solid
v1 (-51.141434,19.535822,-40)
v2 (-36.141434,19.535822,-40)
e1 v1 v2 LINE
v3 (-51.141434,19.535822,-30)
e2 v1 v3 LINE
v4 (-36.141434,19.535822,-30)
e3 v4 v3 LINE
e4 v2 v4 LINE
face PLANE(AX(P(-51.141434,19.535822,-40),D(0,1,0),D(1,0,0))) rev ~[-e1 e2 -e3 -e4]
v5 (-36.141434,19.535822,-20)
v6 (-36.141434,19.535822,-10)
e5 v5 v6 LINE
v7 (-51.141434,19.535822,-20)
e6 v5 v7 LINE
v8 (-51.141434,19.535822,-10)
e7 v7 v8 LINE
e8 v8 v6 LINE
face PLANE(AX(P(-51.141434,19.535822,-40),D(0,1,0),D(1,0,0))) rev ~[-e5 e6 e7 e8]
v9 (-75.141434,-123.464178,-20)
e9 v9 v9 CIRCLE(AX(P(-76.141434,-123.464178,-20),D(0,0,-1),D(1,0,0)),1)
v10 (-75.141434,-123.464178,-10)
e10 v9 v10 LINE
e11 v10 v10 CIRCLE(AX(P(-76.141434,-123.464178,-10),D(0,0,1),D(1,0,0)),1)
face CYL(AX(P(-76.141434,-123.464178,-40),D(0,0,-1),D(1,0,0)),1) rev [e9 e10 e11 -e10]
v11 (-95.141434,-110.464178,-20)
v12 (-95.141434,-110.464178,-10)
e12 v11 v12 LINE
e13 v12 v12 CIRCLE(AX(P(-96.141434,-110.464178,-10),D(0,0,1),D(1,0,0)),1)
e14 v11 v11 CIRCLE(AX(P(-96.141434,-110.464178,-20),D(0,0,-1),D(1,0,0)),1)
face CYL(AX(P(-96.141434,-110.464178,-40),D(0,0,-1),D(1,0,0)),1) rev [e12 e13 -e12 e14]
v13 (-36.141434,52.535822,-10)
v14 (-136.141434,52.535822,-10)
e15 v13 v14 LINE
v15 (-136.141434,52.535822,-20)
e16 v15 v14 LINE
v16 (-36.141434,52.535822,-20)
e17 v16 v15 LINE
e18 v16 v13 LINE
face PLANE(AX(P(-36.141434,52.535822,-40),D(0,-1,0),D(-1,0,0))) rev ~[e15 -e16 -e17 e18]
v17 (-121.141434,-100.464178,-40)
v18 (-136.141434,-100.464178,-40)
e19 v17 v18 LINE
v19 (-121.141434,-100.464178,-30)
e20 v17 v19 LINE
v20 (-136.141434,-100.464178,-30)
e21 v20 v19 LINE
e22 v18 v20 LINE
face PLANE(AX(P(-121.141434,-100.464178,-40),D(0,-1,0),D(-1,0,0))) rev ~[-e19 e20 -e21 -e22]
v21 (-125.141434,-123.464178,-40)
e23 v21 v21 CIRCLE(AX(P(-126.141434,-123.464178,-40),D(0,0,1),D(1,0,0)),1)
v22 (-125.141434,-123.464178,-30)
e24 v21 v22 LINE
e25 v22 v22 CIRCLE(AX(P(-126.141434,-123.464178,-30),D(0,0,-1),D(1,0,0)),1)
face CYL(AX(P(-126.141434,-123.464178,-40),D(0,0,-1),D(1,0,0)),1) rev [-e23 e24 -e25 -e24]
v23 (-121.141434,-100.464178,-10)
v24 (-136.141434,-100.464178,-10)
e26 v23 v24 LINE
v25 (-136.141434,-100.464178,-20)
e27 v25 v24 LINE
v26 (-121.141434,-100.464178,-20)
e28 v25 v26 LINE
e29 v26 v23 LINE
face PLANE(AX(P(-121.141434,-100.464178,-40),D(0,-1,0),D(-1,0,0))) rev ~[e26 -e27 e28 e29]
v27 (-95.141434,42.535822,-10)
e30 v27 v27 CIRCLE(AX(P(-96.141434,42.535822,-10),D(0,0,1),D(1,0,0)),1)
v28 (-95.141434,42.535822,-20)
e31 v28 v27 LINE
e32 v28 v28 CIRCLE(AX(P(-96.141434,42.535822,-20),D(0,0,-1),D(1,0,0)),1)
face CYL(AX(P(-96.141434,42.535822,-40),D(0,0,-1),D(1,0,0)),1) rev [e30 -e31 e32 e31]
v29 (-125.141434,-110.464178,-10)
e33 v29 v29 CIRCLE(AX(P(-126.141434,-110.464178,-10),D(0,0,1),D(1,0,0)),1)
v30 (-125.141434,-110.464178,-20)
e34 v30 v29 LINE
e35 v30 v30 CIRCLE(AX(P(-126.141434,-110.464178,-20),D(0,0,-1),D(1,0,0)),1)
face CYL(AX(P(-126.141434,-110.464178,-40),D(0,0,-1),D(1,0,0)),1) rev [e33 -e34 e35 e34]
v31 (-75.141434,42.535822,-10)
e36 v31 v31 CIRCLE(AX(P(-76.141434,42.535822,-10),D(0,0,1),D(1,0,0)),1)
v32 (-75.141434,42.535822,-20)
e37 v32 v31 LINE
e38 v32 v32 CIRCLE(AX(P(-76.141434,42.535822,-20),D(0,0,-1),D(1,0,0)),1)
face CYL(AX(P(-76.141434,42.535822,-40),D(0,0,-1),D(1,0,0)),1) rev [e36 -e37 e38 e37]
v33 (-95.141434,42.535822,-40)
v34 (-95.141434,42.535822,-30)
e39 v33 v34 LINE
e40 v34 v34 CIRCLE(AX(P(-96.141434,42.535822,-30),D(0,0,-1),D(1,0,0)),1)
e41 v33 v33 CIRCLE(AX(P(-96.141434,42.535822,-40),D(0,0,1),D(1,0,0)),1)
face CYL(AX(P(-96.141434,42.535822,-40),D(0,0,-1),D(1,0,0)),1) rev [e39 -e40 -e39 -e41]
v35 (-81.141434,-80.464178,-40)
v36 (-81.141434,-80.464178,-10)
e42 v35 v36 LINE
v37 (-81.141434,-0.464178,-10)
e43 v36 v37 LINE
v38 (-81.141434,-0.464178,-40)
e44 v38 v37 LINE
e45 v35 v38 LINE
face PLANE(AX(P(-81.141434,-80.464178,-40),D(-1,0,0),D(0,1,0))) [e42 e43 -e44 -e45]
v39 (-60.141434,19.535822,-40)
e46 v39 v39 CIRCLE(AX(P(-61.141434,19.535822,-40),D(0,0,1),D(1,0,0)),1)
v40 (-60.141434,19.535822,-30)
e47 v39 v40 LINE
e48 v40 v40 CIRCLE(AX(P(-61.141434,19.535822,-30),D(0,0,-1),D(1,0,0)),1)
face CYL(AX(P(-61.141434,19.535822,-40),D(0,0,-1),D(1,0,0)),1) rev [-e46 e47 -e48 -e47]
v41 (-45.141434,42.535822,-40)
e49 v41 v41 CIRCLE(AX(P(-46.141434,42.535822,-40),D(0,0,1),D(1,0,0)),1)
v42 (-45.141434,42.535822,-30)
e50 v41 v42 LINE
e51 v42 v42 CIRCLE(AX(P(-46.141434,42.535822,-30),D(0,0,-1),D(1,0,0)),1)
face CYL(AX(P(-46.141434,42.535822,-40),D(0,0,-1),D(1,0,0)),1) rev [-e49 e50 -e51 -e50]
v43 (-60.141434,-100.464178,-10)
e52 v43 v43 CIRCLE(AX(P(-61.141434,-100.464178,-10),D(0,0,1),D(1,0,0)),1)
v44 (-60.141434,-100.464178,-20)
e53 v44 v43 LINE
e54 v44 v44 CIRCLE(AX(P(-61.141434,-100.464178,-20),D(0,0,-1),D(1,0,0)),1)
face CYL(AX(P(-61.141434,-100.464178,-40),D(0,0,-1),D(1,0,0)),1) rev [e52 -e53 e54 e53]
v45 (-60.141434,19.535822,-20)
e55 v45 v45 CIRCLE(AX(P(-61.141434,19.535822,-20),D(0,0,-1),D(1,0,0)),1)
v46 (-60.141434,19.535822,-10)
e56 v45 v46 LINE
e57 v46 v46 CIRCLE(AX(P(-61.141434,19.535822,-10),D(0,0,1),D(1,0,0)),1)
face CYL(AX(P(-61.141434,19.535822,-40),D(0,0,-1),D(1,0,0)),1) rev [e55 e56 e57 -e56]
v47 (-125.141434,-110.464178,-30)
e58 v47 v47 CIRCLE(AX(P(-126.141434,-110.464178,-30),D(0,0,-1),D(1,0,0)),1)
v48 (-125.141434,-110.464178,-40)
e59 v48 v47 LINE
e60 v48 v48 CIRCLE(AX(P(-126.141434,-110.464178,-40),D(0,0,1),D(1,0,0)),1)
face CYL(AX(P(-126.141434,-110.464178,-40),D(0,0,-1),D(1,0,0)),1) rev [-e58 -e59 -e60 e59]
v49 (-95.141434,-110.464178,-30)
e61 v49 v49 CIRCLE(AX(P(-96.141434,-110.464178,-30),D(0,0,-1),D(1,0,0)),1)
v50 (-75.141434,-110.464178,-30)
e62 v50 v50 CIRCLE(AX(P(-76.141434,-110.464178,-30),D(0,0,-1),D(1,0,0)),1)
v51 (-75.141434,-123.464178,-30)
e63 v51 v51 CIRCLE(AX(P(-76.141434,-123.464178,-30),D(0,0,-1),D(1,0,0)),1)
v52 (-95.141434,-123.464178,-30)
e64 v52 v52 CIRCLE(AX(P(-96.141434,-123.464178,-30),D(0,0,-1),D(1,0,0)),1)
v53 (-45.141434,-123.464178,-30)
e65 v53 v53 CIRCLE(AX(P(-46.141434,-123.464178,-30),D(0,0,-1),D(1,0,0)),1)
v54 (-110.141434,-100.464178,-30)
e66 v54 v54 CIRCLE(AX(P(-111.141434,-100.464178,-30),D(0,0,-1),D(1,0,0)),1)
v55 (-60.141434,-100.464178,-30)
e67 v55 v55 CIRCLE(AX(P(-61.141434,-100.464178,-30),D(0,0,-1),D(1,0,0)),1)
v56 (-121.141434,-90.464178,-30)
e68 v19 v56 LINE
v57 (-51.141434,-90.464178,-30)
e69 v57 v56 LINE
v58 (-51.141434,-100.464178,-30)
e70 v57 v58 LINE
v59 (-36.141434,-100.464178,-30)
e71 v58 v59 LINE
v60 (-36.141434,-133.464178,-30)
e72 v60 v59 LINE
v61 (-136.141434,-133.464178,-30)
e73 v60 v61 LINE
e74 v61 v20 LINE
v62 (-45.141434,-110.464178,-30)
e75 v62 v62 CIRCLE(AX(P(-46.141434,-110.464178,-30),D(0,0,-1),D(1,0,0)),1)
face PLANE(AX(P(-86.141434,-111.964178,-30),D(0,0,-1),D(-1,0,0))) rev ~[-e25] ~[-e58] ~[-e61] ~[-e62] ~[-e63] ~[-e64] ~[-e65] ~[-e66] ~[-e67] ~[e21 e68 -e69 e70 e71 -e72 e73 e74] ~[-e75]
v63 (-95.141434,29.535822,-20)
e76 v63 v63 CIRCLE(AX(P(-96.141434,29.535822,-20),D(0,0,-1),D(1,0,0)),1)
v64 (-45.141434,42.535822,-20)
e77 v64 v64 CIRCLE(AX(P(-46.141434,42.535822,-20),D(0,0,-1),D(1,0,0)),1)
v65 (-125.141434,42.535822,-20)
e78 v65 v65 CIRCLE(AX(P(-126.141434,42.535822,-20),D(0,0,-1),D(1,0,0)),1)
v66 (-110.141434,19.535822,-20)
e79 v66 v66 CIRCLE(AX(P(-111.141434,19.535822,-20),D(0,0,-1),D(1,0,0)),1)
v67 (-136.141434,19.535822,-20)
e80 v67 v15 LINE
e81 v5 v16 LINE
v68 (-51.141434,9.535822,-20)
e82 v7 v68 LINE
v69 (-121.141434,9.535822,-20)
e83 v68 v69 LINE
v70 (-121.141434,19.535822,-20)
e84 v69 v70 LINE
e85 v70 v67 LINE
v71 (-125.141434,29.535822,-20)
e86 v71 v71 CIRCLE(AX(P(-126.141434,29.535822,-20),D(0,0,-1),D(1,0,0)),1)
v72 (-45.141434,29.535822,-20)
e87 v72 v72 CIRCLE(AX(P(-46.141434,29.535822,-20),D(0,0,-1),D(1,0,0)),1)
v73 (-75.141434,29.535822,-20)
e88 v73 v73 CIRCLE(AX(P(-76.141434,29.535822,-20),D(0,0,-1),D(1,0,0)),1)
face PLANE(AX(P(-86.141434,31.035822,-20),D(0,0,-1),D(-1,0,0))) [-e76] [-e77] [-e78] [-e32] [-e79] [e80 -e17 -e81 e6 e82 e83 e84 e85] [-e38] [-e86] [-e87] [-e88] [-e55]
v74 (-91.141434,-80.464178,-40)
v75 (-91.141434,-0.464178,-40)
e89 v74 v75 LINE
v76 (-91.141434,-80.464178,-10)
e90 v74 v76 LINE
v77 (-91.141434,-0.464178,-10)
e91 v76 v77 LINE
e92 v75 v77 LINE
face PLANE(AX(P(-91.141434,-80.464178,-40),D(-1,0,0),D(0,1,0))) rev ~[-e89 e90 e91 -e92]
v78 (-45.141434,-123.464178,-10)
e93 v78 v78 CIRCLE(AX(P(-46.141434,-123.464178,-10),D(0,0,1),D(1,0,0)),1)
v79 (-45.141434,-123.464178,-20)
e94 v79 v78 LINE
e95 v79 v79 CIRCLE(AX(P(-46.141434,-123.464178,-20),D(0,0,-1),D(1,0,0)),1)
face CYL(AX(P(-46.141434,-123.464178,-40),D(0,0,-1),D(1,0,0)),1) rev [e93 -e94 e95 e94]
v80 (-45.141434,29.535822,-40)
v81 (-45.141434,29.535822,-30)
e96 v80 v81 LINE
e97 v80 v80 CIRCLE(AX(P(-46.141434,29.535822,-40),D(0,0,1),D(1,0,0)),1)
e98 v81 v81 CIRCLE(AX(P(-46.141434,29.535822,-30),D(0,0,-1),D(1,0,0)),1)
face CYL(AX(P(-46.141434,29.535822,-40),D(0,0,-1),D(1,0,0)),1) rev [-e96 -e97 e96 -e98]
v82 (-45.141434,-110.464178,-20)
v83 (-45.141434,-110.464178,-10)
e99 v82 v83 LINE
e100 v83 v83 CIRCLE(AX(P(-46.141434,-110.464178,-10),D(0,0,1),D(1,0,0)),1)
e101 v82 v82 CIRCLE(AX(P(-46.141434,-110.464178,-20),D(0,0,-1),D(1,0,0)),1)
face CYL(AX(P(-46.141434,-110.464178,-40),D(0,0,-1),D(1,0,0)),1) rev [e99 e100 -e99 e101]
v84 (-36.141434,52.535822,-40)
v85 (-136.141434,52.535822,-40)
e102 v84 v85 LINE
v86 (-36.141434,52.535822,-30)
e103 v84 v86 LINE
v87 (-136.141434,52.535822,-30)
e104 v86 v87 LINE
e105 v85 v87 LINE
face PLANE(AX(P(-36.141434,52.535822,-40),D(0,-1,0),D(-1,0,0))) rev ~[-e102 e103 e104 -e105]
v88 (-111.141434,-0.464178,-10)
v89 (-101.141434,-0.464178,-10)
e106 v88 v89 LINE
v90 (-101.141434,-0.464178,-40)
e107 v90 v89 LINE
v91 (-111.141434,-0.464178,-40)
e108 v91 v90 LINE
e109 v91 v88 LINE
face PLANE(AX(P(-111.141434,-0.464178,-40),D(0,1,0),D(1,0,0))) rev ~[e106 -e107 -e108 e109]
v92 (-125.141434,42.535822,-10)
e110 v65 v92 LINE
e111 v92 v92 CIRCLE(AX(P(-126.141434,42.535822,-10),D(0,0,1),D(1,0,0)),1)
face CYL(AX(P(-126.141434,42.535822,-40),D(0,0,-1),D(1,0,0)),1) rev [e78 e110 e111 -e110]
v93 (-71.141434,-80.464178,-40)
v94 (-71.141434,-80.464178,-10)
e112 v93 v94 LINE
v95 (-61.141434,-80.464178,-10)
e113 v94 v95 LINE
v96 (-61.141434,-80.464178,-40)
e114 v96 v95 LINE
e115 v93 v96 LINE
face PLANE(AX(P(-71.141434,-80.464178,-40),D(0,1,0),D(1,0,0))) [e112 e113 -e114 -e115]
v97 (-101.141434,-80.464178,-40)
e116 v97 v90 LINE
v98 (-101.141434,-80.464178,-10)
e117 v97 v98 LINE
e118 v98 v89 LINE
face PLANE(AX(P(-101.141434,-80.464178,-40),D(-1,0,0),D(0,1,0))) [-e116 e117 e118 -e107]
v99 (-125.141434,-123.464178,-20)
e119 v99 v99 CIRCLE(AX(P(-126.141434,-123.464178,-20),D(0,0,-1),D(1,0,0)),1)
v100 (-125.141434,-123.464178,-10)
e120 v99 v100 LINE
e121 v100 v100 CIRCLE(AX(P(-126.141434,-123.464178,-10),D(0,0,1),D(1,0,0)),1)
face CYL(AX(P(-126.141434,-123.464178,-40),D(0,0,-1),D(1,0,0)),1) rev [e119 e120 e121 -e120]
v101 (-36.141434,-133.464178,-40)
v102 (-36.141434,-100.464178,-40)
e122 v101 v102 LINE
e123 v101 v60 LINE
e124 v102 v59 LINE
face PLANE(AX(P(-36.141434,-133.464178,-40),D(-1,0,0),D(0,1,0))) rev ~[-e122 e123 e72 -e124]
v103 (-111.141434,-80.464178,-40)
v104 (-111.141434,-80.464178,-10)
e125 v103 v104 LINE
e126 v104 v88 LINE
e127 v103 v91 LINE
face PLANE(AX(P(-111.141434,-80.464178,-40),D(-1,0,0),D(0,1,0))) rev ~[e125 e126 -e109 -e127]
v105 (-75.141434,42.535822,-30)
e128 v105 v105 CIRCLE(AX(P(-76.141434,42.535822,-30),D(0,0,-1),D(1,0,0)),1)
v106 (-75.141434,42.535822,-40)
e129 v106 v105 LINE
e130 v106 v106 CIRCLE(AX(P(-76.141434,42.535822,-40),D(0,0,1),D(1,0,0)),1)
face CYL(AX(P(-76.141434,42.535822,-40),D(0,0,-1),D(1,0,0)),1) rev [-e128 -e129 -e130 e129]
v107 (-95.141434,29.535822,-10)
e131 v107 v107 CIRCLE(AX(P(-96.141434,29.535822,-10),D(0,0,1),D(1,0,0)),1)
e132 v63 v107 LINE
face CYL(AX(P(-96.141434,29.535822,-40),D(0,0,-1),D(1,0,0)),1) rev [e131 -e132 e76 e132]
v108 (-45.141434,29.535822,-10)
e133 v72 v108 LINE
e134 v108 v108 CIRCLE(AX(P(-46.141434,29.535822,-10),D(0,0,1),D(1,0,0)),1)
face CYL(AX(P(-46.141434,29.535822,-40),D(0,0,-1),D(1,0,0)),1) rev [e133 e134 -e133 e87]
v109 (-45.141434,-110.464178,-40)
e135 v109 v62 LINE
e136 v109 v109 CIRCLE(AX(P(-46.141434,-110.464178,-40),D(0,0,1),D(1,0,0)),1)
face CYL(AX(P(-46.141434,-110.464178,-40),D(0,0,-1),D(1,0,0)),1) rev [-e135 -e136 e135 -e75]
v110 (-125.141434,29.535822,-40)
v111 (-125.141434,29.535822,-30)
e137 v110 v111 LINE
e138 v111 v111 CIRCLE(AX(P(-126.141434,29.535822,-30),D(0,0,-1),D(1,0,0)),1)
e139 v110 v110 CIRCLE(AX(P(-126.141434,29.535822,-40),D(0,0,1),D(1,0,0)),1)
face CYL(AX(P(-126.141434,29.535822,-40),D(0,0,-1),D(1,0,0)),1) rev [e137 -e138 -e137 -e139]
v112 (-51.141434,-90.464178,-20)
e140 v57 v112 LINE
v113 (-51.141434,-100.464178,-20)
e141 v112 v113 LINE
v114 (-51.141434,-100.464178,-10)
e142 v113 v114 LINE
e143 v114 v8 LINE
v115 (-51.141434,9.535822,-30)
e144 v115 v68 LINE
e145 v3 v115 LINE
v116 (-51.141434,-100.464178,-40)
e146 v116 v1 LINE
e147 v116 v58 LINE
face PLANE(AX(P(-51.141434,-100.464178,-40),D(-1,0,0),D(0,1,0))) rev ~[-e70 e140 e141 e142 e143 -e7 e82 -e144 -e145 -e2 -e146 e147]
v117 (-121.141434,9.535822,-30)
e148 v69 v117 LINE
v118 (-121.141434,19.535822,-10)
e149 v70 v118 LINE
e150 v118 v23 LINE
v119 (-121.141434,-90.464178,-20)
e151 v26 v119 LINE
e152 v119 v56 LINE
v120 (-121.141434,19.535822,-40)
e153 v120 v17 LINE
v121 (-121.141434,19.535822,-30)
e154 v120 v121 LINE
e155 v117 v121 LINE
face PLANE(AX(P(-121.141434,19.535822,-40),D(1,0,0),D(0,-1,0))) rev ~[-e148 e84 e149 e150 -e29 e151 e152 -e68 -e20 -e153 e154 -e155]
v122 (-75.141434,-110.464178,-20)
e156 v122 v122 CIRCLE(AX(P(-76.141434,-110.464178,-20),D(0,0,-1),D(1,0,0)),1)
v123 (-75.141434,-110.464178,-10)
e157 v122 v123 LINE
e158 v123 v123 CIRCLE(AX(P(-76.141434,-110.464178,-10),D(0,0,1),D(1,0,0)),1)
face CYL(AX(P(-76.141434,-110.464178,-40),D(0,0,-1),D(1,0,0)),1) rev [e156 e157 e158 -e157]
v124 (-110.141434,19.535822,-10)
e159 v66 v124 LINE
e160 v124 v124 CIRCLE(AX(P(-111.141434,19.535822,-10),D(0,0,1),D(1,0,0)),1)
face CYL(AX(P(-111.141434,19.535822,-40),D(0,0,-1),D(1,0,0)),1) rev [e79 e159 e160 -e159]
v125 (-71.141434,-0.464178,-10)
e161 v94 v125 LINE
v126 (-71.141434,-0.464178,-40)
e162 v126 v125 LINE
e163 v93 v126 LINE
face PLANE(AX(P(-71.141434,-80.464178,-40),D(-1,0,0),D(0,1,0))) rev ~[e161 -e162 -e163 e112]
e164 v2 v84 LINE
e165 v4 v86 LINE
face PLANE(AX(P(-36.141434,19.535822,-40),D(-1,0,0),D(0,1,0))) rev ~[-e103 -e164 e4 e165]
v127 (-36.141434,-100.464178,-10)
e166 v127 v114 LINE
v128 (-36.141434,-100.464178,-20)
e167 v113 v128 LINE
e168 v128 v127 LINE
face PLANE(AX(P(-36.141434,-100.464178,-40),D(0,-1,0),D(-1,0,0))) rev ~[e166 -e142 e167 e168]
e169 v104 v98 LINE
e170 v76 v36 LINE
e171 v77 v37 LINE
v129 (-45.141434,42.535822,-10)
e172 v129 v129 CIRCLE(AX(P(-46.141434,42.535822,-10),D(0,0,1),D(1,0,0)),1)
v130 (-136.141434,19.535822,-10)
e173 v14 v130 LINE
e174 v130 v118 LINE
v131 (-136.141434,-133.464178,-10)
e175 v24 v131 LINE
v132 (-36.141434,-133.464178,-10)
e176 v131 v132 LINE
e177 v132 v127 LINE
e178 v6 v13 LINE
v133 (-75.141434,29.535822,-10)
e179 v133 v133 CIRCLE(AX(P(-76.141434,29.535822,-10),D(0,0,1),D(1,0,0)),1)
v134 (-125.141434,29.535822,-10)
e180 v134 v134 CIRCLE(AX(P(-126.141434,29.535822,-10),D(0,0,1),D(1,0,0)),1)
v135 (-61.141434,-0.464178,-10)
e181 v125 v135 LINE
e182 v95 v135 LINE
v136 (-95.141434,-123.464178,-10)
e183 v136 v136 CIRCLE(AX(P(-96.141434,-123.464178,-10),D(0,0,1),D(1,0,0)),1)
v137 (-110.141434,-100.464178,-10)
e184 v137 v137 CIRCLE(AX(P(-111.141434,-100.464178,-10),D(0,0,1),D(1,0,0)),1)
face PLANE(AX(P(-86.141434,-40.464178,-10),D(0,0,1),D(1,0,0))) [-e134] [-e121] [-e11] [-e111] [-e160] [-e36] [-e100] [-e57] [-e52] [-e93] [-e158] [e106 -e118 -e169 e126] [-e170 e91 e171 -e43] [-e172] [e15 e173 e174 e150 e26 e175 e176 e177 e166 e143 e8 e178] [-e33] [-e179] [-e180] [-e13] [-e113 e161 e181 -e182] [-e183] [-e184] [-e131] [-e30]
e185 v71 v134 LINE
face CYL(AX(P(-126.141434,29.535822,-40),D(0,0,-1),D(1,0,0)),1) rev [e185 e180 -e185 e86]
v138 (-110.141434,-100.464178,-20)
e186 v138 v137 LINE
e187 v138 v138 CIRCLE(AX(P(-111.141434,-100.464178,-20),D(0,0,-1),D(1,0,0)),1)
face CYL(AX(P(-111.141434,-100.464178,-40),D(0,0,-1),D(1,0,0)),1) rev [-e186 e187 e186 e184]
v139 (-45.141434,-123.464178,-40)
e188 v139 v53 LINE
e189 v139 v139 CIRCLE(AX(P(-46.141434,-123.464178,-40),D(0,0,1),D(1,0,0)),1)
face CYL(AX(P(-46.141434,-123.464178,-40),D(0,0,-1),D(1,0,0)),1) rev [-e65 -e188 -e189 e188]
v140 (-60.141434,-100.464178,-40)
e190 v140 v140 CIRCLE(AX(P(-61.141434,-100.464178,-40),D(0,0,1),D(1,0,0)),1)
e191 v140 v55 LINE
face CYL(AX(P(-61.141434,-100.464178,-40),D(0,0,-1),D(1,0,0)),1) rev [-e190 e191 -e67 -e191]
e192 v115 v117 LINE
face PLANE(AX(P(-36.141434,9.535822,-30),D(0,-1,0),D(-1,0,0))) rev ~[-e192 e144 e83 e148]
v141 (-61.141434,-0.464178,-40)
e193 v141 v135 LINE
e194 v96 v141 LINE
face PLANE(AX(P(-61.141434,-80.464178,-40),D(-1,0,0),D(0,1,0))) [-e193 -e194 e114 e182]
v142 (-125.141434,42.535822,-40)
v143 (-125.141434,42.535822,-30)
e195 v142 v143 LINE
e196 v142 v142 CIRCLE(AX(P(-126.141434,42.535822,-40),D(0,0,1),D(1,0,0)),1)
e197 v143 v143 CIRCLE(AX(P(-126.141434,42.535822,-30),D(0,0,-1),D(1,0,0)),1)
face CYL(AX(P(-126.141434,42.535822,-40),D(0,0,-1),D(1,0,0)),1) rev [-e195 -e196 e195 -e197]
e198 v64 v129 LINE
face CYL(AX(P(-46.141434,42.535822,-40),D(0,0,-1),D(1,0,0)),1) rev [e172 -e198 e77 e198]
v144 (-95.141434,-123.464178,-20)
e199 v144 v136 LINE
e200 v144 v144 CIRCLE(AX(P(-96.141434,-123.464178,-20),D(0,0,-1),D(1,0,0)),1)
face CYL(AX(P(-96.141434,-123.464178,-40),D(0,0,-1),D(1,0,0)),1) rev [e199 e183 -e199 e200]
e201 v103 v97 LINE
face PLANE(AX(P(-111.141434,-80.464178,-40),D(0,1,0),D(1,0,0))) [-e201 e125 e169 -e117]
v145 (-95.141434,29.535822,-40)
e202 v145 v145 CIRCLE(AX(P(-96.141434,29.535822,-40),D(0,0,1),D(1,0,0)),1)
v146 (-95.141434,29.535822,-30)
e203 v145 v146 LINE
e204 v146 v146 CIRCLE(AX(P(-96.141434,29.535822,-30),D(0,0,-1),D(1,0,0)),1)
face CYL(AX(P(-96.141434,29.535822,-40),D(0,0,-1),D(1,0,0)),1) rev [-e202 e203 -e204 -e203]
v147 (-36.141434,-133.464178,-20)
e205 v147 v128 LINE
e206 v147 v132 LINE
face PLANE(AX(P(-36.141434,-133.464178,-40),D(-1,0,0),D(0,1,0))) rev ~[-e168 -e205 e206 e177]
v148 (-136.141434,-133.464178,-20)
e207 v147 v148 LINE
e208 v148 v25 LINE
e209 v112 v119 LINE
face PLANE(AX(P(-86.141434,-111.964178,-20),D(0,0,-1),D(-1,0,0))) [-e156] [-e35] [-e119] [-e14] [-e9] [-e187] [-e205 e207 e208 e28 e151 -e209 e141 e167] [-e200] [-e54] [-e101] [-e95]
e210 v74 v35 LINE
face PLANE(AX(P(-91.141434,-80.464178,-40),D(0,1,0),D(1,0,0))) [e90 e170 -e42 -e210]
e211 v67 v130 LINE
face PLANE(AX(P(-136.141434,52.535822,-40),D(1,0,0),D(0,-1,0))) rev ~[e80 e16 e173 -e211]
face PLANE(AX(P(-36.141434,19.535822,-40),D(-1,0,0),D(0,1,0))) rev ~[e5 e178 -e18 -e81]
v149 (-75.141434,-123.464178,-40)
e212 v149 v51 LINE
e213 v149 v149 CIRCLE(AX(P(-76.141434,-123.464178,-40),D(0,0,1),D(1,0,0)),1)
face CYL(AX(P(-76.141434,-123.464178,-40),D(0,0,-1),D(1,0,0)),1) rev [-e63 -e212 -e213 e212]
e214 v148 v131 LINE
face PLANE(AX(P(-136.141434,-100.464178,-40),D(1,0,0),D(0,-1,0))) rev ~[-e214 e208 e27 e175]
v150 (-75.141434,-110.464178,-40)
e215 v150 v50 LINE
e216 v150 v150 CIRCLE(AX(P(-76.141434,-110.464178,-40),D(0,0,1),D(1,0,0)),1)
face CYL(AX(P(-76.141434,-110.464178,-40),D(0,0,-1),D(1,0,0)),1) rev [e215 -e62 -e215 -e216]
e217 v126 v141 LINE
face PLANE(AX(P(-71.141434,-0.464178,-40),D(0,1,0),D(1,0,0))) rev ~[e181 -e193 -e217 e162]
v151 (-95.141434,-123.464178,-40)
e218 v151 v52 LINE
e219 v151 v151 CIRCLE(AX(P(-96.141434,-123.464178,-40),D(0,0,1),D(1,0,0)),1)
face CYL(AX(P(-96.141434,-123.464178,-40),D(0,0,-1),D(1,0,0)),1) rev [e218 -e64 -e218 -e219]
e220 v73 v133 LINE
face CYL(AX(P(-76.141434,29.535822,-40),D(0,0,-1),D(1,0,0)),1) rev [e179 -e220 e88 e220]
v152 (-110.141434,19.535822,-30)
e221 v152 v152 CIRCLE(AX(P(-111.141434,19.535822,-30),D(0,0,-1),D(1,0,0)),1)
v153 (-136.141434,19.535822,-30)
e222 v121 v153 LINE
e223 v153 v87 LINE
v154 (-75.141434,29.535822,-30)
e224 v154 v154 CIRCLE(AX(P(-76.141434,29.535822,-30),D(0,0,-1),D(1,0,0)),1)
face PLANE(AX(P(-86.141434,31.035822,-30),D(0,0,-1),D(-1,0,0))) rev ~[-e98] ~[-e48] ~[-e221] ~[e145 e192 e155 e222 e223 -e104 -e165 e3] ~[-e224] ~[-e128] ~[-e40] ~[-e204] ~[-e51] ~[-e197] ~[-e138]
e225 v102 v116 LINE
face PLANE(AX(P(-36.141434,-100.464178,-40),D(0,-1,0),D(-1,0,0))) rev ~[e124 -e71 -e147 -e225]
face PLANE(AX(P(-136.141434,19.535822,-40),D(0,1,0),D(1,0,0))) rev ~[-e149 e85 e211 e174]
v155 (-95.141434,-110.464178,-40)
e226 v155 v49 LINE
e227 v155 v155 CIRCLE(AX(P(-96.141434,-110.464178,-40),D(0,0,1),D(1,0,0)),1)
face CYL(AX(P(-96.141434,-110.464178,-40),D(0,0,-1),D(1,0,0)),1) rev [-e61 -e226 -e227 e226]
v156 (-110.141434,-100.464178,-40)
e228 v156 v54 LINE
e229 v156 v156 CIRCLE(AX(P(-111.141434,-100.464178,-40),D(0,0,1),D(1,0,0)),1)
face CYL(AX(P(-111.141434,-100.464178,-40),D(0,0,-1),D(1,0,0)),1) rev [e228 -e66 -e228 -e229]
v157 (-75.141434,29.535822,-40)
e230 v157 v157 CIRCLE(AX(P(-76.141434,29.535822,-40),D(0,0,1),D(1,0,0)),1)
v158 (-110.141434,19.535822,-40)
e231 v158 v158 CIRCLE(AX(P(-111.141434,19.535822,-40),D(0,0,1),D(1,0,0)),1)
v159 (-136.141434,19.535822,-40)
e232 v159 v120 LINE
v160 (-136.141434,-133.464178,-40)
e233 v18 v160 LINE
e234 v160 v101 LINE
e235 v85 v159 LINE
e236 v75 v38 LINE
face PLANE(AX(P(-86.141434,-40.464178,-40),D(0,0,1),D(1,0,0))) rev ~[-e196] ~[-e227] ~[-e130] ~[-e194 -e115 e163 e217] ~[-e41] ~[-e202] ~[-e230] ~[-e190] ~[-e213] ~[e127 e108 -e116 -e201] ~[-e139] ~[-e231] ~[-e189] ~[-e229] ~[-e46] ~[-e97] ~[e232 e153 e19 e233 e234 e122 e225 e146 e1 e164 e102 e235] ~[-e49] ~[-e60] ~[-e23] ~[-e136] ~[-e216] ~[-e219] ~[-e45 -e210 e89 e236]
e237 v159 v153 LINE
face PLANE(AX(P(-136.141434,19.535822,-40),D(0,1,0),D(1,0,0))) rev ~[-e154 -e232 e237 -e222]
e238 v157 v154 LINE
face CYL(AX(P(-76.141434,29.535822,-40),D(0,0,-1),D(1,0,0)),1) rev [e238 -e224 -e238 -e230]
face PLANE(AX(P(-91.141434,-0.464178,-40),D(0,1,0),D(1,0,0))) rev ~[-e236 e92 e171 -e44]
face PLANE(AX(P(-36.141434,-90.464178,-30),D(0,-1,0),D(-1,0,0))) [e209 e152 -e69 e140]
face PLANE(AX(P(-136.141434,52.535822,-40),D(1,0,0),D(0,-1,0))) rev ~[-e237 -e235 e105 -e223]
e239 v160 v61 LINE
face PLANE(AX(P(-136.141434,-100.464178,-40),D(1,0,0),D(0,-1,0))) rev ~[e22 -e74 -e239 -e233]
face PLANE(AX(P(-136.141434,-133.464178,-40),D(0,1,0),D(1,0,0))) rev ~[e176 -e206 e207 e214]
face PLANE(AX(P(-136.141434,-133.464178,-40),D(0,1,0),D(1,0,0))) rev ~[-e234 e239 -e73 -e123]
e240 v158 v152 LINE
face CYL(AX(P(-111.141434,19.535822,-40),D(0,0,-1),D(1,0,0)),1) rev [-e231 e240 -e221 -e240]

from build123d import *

# Parameters (mm, degrees)
BOSS_EXTRU_1_DEPTH      = 10
BOSS_EXTRU_1_DEPTH_BACK = 20
ESQUISSE1_R             = 1
ESQUISSE1_W             = 10
ESQUISSE1_H             = 80
ENL_V_START             = -10
ESQUISSE3_W             = 100
ESQUISSE3_H             = 43
ENL_V_MAT_EXTRU_1_DEPTH = 10


with BuildPart() as part:
    # Esquisse1 → Boss.-Extru.1 (new, two sides: drawn at the far end of the back side and taken through both)
    with BuildSketch(Plane.XY.offset(-20).offset(-BOSS_EXTRU_1_DEPTH_BACK)):
        Polygon((-36.141434162, 52.535821702), (-136.141434162, 52.535821702), (-136.141434162, 19.535821702), (-121.141434162, 19.535821702), (-121.141434162, -100.464178298), (-136.141434162, -100.464178298), (-136.141434162, -133.464178298), (-36.141434162, -133.464178298), (-36.141434162, -100.464178298), (-51.141434162, -100.464178298), (-51.141434162, 19.535821702), (-36.141434162, 19.535821702), align=None)
        with Locations((-111.141434162, -100.464178298)):
            Circle(ESQUISSE1_R, mode=Mode.SUBTRACT)
        with Locations((-61.141434162, -100.464178298)):
            Circle(ESQUISSE1_R, mode=Mode.SUBTRACT)
        with Locations((-61.141434162, 19.535821702)):
            Circle(ESQUISSE1_R, mode=Mode.SUBTRACT)
        with Locations((-111.141434162, 19.535821702)):
            Circle(ESQUISSE1_R, mode=Mode.SUBTRACT)
        with Locations((-126.141434162, 29.535821702)):
            Circle(ESQUISSE1_R, mode=Mode.SUBTRACT)
        with Locations((-126.141434162, 42.535821702)):
            Circle(ESQUISSE1_R, mode=Mode.SUBTRACT)
        with Locations((-96.141434162, 29.535821702)):
            Circle(ESQUISSE1_R, mode=Mode.SUBTRACT)
        with Locations((-96.141434162, 42.535821702)):
            Circle(ESQUISSE1_R, mode=Mode.SUBTRACT)
        with Locations((-76.141434162, 29.535821702)):
            Circle(ESQUISSE1_R, mode=Mode.SUBTRACT)
        with Locations((-76.141434162, 42.535821702)):
            Circle(ESQUISSE1_R, mode=Mode.SUBTRACT)
        with Locations((-46.141434162, 29.535821702)):
            Circle(ESQUISSE1_R, mode=Mode.SUBTRACT)
        with Locations((-46.141434162, 42.535821702)):
            Circle(ESQUISSE1_R, mode=Mode.SUBTRACT)
        with Locations((-66.141434162, -40.464178298)):
            Rectangle(ESQUISSE1_W, ESQUISSE1_H, mode=Mode.SUBTRACT)
        with Locations((-106.141434162, -40.464178298)):
            Rectangle(ESQUISSE1_W, ESQUISSE1_H, mode=Mode.SUBTRACT)
        with Locations((-86.141434162, -40.464178298)):
            Rectangle(ESQUISSE1_W, ESQUISSE1_H, mode=Mode.SUBTRACT)
        with Locations((-46.141434162, -110.464178298)):
            Circle(ESQUISSE1_R, mode=Mode.SUBTRACT)
        with Locations((-46.141434162, -123.464178298)):
            Circle(ESQUISSE1_R, mode=Mode.SUBTRACT)
        with Locations((-76.141434162, -110.464178298)):
            Circle(ESQUISSE1_R, mode=Mode.SUBTRACT)
        with Locations((-126.141434162, -123.464178298)):
            Circle(ESQUISSE1_R, mode=Mode.SUBTRACT)
        with Locations((-126.141434162, -110.464178298)):
            Circle(ESQUISSE1_R, mode=Mode.SUBTRACT)
        with Locations((-96.141434162, -123.464178298)):
            Circle(ESQUISSE1_R, mode=Mode.SUBTRACT)
        with Locations((-96.141434162, -110.464178298)):
            Circle(ESQUISSE1_R, mode=Mode.SUBTRACT)
        with Locations((-76.141434162, -123.464178298)):
            Circle(ESQUISSE1_R, mode=Mode.SUBTRACT)
    extrude(amount=BOSS_EXTRU_1_DEPTH + BOSS_EXTRU_1_DEPTH_BACK)

    # Esquisse3 → Enlèv. mat.-Extru.1 (cut)
    with BuildSketch(Plane(origin=(0, 0, -40), x_dir=(-1, 0, 0), z_dir=(0, 0, -1)).offset(ENL_V_START)):
        with Locations((86.141434162, -111.964178298)):
            Rectangle(ESQUISSE3_W, ESQUISSE3_H)
        with Locations((86.141434162, 31.035821702)):
            Rectangle(ESQUISSE3_W, ESQUISSE3_H)
    extrude(amount=-ENL_V_MAT_EXTRU_1_DEPTH, mode=Mode.SUBTRACT)


solid = part.part
